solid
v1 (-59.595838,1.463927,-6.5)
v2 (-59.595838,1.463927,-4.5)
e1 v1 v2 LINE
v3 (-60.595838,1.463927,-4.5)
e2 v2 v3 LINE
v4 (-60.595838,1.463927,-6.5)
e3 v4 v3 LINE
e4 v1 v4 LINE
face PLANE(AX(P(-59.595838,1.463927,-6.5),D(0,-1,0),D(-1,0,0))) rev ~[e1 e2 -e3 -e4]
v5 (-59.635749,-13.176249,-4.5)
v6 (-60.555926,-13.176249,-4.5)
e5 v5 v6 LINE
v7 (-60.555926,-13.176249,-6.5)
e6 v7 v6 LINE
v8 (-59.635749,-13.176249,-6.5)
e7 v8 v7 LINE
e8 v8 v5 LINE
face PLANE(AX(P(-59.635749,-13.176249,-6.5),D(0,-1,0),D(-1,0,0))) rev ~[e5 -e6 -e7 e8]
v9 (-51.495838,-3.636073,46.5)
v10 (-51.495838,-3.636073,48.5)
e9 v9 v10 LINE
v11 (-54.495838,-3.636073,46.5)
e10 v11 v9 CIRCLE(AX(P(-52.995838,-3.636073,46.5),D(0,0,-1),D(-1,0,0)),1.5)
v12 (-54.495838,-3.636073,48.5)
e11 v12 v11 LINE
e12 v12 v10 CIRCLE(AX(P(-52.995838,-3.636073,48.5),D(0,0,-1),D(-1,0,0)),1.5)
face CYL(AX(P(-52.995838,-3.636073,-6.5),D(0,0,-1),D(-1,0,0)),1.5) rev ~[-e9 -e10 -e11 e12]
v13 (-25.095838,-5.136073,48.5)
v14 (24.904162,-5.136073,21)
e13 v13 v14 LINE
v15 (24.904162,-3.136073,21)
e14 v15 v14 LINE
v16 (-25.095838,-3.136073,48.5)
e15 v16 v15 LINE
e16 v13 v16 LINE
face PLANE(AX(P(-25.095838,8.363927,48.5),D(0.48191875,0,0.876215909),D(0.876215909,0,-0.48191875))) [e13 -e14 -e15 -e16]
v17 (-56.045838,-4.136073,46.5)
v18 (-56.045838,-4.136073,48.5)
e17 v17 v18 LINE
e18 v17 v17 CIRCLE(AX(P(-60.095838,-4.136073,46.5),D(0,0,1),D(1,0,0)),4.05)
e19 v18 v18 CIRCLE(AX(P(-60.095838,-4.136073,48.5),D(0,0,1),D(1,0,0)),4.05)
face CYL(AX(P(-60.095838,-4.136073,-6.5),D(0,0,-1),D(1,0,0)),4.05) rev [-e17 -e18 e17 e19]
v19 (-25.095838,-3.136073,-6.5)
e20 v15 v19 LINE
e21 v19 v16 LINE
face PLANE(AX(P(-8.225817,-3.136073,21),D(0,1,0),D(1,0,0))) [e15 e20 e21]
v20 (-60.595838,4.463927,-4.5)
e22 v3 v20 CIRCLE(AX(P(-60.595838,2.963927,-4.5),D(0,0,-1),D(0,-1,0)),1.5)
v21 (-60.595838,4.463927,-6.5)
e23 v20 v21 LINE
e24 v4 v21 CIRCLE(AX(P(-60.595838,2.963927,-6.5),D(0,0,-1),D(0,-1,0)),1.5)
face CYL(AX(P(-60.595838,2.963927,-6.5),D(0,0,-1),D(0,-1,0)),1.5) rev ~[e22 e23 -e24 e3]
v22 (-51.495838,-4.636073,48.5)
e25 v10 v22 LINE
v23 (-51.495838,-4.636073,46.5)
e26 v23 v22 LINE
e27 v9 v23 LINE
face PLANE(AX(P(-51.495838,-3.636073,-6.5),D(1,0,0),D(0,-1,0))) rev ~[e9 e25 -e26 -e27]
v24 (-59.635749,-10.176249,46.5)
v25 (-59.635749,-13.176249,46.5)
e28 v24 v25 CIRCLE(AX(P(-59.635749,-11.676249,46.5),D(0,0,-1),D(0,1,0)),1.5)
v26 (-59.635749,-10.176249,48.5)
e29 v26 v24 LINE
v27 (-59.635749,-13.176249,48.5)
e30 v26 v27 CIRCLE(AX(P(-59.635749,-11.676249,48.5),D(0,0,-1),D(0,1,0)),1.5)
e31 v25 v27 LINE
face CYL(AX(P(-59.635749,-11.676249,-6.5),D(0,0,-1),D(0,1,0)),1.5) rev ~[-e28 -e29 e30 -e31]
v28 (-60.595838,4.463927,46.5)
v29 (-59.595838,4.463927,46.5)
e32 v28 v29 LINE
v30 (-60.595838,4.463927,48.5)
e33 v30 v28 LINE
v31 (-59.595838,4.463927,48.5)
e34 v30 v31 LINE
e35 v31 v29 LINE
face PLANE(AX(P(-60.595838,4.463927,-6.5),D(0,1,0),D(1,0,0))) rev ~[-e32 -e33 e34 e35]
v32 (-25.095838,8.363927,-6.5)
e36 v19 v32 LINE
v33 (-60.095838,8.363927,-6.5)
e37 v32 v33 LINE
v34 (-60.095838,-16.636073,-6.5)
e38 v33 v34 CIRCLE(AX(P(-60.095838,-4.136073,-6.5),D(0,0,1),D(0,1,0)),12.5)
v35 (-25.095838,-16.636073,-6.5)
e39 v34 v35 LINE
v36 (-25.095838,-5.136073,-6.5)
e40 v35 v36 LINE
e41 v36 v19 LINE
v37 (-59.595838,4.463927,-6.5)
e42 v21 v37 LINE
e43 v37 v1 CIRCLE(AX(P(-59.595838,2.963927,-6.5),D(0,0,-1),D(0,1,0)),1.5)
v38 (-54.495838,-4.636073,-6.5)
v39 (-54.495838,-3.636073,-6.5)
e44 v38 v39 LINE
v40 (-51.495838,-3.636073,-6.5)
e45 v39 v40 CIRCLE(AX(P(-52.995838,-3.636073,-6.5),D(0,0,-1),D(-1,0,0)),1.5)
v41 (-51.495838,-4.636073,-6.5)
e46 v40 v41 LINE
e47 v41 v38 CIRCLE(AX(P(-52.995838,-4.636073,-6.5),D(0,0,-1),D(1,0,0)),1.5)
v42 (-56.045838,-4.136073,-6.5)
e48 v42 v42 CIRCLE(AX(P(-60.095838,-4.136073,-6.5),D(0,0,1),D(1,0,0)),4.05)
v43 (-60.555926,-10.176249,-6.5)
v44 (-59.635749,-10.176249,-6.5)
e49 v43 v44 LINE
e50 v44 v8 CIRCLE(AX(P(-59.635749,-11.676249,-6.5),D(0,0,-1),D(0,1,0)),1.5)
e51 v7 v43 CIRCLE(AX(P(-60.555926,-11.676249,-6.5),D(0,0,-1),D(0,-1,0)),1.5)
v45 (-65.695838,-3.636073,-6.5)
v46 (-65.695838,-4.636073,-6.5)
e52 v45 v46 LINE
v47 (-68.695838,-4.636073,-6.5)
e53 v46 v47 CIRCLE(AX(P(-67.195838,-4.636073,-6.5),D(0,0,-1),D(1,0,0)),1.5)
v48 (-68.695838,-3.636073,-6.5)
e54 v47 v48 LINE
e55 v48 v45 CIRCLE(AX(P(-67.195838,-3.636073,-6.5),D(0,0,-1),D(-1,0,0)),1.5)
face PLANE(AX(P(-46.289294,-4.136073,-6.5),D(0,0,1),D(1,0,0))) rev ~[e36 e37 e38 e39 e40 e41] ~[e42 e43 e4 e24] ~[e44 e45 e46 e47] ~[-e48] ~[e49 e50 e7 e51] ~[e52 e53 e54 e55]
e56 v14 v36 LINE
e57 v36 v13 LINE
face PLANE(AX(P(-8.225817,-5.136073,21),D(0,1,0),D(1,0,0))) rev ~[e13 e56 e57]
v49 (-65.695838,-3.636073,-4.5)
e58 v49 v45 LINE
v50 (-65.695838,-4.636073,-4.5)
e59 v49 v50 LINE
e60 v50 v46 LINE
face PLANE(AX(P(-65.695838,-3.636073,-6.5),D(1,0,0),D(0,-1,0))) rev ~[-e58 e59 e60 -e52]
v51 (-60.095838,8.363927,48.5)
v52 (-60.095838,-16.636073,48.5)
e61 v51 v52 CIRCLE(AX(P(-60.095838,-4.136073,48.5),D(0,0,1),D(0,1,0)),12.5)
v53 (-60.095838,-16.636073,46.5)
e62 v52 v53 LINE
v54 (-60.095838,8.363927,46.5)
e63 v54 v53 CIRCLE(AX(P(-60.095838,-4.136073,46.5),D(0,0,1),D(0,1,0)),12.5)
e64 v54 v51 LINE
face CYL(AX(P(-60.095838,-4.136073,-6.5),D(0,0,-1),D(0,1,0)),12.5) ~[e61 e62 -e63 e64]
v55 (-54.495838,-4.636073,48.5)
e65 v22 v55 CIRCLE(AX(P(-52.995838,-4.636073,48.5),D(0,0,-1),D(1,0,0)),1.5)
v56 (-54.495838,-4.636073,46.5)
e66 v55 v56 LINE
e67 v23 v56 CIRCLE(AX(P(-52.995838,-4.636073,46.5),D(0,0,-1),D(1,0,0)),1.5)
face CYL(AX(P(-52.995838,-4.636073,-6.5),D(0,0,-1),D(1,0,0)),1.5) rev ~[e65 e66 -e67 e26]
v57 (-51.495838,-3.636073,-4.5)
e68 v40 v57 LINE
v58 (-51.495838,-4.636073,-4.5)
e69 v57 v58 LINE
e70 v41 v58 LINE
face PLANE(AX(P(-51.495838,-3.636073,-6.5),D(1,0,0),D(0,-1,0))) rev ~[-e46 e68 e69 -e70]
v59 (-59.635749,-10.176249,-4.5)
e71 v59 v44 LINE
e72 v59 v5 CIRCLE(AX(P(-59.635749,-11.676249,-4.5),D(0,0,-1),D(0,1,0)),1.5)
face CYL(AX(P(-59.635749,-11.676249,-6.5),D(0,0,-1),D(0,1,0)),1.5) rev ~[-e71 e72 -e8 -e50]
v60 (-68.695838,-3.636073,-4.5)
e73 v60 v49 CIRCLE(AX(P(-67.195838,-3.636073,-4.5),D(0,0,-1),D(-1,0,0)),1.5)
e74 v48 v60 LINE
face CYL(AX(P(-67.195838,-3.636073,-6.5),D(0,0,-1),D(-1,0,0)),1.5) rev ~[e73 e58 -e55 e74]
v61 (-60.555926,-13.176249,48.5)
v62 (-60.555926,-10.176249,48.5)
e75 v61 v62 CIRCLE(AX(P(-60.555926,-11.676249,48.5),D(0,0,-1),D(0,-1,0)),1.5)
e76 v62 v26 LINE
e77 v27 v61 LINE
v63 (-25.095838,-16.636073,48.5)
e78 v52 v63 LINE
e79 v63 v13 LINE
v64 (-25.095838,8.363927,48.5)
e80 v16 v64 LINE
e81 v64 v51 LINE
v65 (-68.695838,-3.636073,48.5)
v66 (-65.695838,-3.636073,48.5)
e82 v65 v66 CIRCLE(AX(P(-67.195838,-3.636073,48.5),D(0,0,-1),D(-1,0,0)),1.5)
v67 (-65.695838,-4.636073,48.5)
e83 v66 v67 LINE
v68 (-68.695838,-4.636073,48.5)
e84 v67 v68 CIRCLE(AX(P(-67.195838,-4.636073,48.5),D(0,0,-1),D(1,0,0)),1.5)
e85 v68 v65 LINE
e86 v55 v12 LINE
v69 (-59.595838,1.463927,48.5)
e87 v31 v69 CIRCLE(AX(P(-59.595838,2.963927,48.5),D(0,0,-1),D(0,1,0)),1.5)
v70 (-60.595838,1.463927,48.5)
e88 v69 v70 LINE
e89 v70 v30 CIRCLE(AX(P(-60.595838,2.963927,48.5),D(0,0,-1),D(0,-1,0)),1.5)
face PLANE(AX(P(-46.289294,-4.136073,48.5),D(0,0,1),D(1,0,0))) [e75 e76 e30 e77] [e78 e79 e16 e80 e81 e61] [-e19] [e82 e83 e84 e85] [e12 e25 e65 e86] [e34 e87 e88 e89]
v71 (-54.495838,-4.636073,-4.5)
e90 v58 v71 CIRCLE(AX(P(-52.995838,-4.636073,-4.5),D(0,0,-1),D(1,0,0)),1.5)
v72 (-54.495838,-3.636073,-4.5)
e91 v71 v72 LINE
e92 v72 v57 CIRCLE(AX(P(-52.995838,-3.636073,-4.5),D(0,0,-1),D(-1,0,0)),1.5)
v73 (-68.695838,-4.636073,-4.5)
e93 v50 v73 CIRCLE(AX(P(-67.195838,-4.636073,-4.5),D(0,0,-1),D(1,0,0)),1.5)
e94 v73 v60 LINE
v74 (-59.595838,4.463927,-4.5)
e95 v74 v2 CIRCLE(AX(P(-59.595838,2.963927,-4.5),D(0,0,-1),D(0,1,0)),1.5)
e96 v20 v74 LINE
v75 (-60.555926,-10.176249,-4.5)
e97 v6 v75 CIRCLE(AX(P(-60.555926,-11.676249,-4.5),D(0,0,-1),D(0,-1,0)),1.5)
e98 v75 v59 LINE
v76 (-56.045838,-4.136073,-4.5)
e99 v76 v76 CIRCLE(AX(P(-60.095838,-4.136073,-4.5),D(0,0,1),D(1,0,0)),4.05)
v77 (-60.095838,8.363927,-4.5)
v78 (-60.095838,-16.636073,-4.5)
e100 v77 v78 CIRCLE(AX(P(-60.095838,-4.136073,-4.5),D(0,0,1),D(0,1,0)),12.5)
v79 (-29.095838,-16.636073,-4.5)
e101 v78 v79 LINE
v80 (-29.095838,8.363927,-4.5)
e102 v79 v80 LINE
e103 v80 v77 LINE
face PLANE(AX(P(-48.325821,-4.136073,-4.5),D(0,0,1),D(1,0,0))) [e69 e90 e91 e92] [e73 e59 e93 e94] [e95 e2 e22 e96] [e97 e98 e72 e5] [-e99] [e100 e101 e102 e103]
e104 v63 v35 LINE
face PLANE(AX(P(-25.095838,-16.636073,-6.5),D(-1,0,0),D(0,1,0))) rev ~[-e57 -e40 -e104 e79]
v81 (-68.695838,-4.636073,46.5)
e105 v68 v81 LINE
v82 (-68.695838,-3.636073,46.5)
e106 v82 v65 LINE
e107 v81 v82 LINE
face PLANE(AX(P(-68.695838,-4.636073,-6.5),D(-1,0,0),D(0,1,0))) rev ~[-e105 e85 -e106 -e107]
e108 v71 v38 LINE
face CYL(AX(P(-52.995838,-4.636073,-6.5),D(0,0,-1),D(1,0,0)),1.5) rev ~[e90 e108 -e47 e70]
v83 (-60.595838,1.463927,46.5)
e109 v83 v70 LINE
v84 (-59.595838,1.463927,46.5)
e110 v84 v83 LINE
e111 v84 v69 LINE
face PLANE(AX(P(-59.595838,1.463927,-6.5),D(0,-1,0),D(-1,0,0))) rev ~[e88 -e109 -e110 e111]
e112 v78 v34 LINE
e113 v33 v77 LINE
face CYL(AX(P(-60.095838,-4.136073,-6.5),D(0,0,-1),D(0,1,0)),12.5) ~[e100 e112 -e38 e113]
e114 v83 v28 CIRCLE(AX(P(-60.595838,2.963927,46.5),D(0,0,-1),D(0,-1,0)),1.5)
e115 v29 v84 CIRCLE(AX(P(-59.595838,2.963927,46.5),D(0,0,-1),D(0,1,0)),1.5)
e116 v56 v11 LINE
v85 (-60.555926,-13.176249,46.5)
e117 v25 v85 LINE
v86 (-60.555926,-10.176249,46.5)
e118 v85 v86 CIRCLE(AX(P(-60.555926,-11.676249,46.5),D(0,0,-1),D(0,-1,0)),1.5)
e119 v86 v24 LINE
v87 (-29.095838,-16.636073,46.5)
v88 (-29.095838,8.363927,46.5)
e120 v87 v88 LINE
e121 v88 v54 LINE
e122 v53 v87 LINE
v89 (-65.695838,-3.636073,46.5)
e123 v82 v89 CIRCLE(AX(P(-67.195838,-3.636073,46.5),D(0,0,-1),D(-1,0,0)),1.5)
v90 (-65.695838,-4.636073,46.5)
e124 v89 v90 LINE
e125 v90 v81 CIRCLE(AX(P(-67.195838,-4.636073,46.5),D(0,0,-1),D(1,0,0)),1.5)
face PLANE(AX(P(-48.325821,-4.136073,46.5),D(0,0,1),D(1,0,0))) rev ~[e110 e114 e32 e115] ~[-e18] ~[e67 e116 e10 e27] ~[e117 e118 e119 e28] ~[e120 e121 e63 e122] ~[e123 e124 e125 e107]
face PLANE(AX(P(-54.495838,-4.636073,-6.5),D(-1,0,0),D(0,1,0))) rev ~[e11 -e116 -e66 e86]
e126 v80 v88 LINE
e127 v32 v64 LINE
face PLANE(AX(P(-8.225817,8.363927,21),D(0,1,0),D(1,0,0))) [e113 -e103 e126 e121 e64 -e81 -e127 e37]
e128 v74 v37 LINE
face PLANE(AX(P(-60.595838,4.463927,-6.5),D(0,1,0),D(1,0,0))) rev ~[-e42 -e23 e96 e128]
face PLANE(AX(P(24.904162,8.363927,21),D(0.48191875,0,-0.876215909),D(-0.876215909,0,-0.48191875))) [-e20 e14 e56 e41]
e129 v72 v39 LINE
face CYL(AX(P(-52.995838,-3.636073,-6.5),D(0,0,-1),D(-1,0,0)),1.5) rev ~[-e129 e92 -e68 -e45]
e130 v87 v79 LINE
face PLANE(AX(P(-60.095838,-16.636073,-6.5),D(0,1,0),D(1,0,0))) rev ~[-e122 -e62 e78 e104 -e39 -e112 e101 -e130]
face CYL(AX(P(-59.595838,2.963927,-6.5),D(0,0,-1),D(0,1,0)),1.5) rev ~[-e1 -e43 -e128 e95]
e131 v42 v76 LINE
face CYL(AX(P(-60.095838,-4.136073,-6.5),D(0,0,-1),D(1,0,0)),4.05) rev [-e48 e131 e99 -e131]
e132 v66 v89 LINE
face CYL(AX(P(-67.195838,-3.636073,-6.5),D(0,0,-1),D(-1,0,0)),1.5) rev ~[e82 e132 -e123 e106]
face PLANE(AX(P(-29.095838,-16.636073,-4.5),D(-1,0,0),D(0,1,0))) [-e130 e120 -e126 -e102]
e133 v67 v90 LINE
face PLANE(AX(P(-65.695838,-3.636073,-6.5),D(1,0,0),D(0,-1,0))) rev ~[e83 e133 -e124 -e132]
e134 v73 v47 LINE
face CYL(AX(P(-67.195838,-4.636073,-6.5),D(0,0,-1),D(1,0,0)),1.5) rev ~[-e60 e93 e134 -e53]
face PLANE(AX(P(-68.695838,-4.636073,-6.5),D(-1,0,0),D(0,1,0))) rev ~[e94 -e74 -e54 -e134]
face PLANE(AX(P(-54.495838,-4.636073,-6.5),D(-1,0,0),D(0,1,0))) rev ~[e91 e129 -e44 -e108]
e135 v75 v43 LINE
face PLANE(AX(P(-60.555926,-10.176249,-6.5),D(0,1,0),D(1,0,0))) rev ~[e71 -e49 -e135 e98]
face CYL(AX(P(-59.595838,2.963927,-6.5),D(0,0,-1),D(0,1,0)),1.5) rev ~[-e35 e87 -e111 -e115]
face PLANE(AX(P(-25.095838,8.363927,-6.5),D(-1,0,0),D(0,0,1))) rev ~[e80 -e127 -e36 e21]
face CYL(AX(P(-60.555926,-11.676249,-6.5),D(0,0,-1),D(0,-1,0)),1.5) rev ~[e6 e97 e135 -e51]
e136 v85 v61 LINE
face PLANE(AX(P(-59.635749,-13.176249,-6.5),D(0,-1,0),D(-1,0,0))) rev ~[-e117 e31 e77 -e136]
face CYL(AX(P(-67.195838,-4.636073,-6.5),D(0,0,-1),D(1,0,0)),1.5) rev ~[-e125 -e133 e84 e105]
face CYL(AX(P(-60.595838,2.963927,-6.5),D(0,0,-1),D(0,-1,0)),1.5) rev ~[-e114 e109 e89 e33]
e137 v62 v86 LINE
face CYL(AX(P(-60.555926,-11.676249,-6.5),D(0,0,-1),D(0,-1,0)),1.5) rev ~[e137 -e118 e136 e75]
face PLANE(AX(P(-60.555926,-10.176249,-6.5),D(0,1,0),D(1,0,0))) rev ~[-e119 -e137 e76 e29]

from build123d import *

# Parameters (mm, degrees)
SKETCH1_W           = 62
SKETCH1_H           = 42
SKETCH1_W_2         = 41
SKETCH1_H_2         = 21
BOSS_EXTRUDE1_DEPTH = 42
SKETCH2_W           = 4
SKETCH2_H           = 25
BOSS_EXTRUDE2_DEPTH = 4.5
SKETCH2_2_W         = 4
SKETCH2_2_H         = 25
BOSS_EXTRUDE3_DEPTH = 45.55
SKETCH3_R           = 4.05
BOSS_EXTRUDE6_DEPTH = 2
BOSS_EXTRUDE7_START = -53
SKETCH3_8_R         = 4.05
BOSS_EXTRUDE7_DEPTH = 53
CUT_EXTRUDE1_START  = -51
SKETCH3_11_R        = 4.05
CUT_EXTRUDE1_DEPTH  = 51
SKETCH_1_W          = 8.5
SKETCH_1_H          = 5.5
CUT_EXTRUDE_1_DEPTH = 40
CUT_EXTRUDE_3_DEPTH = 42
EXTRUDE_1_DEPTH     = 13.5
CUT_EXTRUDE_4_DEPTH = 11.5


with BuildPart() as part:
    # Sketch1 → Boss-Extrude1 (new body)
    with BuildSketch(Plane.XY):
        with Locations((1.904162196, -4.136072895)):
            Rectangle(SKETCH1_W, SKETCH1_H)
        with Locations((1.904162196, -4.136072895)):
            Rectangle(SKETCH1_W_2, SKETCH1_H_2, mode=Mode.SUBTRACT)
    extrude(amount=BOSS_EXTRUDE1_DEPTH)

    # Sketch2 → Boss-Extrude2 (add)
    with BuildSketch(Plane.XY.offset(42)):
        with Locations((-27.095837804, -4.136072895)):
            Rectangle(SKETCH2_W, SKETCH2_H)
    extrude(amount=BOSS_EXTRUDE2_DEPTH)

    # Sketch2<2> → Boss-Extrude3 (add)
    with BuildSketch(Plane.XY.offset(42)):
        with Locations((-27.095837804, -4.136072895)):
            Rectangle(SKETCH2_2_W, SKETCH2_2_H)
    extrude(amount=-BOSS_EXTRUDE3_DEPTH)

    # Sketch3 → Boss-Extrude6 (add)
    with BuildSketch(Plane.XY.offset(46.5)):
        with BuildLine():
            Line((-25.095837804, -16.636072895), (-25.095837804, 8.363927105))
            Line((-25.095837804, 8.363927105), (-60.095837804, 8.363927105))
            ThreePointArc((-60.095837804, 8.363927105), (-72.595837804, -4.136072895), (-60.095837804, -16.636072895))
            Line((-60.095837804, -16.636072895), (-25.095837804, -16.636072895))
        make_face()
        with BuildLine():
            Line((-51.495837804, -3.636072895), (-51.495837804, -4.636072895))
            ThreePointArc((-51.495837804, -4.636072895), (-52.995837804, -6.136072895), (-54.495837804, -4.636072895))
            Line((-54.495837804, -4.636072895), (-54.495837804, -3.636072895))
            ThreePointArc((-54.495837804, -3.636072895), (-52.995837804, -2.136072895), (-51.495837804, -3.636072895))
        make_face(mode=Mode.SUBTRACT)
        with BuildLine():
            Line((-59.635749439, -13.176248856), (-60.555926168, -13.176248856))
            ThreePointArc((-60.555926168, -13.176248856), (-62.055926168, -11.676248856), (-60.555926168, -10.176248856))
            Line((-60.555926168, -10.176248856), (-59.635749439, -10.176248856))
            ThreePointArc((-59.635749439, -10.176248856), (-58.135749439, -11.676248856), (-59.635749439, -13.176248856))
        make_face(mode=Mode.SUBTRACT)
        with Locations((-60.095837804, -4.136072895)):
            Circle(SKETCH3_R, mode=Mode.SUBTRACT)
        with BuildLine():
            Line((-59.595837804, 1.463927105), (-60.595837804, 1.463927105))
            ThreePointArc((-60.595837804, 1.463927105), (-62.095837804, 2.963927105), (-60.595837804, 4.463927105))
            Line((-60.595837804, 4.463927105), (-59.595837804, 4.463927105))
            ThreePointArc((-59.595837804, 4.463927105), (-58.095837804, 2.963927105), (-59.595837804, 1.463927105))
        make_face(mode=Mode.SUBTRACT)
        with BuildLine():
            ThreePointArc((-68.695837804, -3.636072895), (-67.195837804, -2.136072895), (-65.695837804, -3.636072895))
            Line((-65.695837804, -3.636072895), (-65.695837804, -4.636072895))
            ThreePointArc((-65.695837804, -4.636072895), (-67.195837804, -6.136072895), (-68.695837804, -4.636072895))
            Line((-68.695837804, -4.636072895), (-68.695837804, -3.636072895))
        make_face(mode=Mode.SUBTRACT)
    extrude(amount=BOSS_EXTRUDE6_DEPTH)

    # Sketch3<8> → Boss-Extrude7 (add)
    with BuildSketch(Plane.XY.offset(46.5).offset(BOSS_EXTRUDE7_START)):
        with BuildLine():
            Line((-25.095837804, -16.636072895), (-25.095837804, 8.363927105))
            Line((-25.095837804, 8.363927105), (-60.095837804, 8.363927105))
            ThreePointArc((-60.095837804, 8.363927105), (-72.595837804, -4.136072895), (-60.095837804, -16.636072895))
            Line((-60.095837804, -16.636072895), (-25.095837804, -16.636072895))
        make_face()
        with BuildLine():
            Line((-51.495837804, -3.636072895), (-51.495837804, -4.636072895))
            ThreePointArc((-51.495837804, -4.636072895), (-52.995837804, -6.136072895), (-54.495837804, -4.636072895))
            Line((-54.495837804, -4.636072895), (-54.495837804, -3.636072895))
            ThreePointArc((-54.495837804, -3.636072895), (-52.995837804, -2.136072895), (-51.495837804, -3.636072895))
        make_face(mode=Mode.SUBTRACT)
        with BuildLine():
            Line((-59.635749439, -13.176248856), (-60.555926168, -13.176248856))
            ThreePointArc((-60.555926168, -13.176248856), (-62.055926168, -11.676248856), (-60.555926168, -10.176248856))
            Line((-60.555926168, -10.176248856), (-59.635749439, -10.176248856))
            ThreePointArc((-59.635749439, -10.176248856), (-58.135749439, -11.676248856), (-59.635749439, -13.176248856))
        make_face(mode=Mode.SUBTRACT)
        with Locations((-60.095837804, -4.136072895)):
            Circle(SKETCH3_8_R, mode=Mode.SUBTRACT)
        with BuildLine():
            Line((-59.595837804, 1.463927105), (-60.595837804, 1.463927105))
            ThreePointArc((-60.595837804, 1.463927105), (-62.095837804, 2.963927105), (-60.595837804, 4.463927105))
            Line((-60.595837804, 4.463927105), (-59.595837804, 4.463927105))
            ThreePointArc((-59.595837804, 4.463927105), (-58.095837804, 2.963927105), (-59.595837804, 1.463927105))
        make_face(mode=Mode.SUBTRACT)
        with BuildLine():
            ThreePointArc((-68.695837804, -3.636072895), (-67.195837804, -2.136072895), (-65.695837804, -3.636072895))
            Line((-65.695837804, -3.636072895), (-65.695837804, -4.636072895))
            ThreePointArc((-65.695837804, -4.636072895), (-67.195837804, -6.136072895), (-68.695837804, -4.636072895))
            Line((-68.695837804, -4.636072895), (-68.695837804, -3.636072895))
        make_face(mode=Mode.SUBTRACT)
    extrude(amount=BOSS_EXTRUDE7_DEPTH)

    # Sketch3<11> → Cut-Extrude1 (cut)
    with BuildSketch(Plane.XY.offset(46.5).offset(CUT_EXTRUDE1_START)):
        with BuildLine():
            Line((-29.095837804, -16.636072895), (-29.095837804, 8.363927105))
            Line((-29.095837804, 8.363927105), (-60.095837804, 8.363927105))
            ThreePointArc((-60.095837804, 8.363927105), (-72.595837804, -4.136072895), (-60.095837804, -16.636072895))
            Line((-60.095837804, -16.636072895), (-29.095837804, -16.636072895))
        make_face()
        with BuildLine():
            Line((-59.635749439, -13.176248856), (-60.555926168, -13.176248856))
            ThreePointArc((-60.555926168, -13.176248856), (-62.055926168, -11.676248856), (-60.555926168, -10.176248856))
            Line((-60.555926168, -10.176248856), (-59.635749439, -10.176248856))
            ThreePointArc((-59.635749439, -10.176248856), (-58.135749439, -11.676248856), (-59.635749439, -13.176248856))
        make_face(mode=Mode.SUBTRACT)
        with Locations((-60.095837804, -4.136072895)):
            Circle(SKETCH3_11_R, mode=Mode.SUBTRACT)
        with BuildLine():
            Line((-59.595837804, 1.463927105), (-60.595837804, 1.463927105))
            ThreePointArc((-60.595837804, 1.463927105), (-62.095837804, 2.963927105), (-60.595837804, 4.463927105))
            Line((-60.595837804, 4.463927105), (-59.595837804, 4.463927105))
            ThreePointArc((-59.595837804, 4.463927105), (-58.095837804, 2.963927105), (-59.595837804, 1.463927105))
        make_face(mode=Mode.SUBTRACT)
        with BuildLine():
            ThreePointArc((-54.495837804, -3.636072895), (-52.995837804, -2.136072895), (-51.495837804, -3.636072895))
            Line((-51.495837804, -3.636072895), (-51.495837804, -4.636072895))
            ThreePointArc((-51.495837804, -4.636072895), (-52.995837804, -6.136072895), (-54.495837804, -4.636072895))
            Line((-54.495837804, -4.636072895), (-54.495837804, -3.636072895))
        make_face(mode=Mode.SUBTRACT)
        with BuildLine():
            ThreePointArc((-68.695837804, -3.636072895), (-67.195837804, -2.136072895), (-65.695837804, -3.636072895))
            Line((-65.695837804, -3.636072895), (-65.695837804, -4.636072895))
            ThreePointArc((-65.695837804, -4.636072895), (-67.195837804, -6.136072895), (-68.695837804, -4.636072895))
            Line((-68.695837804, -4.636072895), (-68.695837804, -3.636072895))
        make_face(mode=Mode.SUBTRACT)
    extrude(amount=CUT_EXTRUDE1_DEPTH, mode=Mode.SUBTRACT)

    # 草圖1 → 除料-伸長1 (cut)
    with BuildSketch(Plane(origin=(0, 16.863927105, 0), x_dir=(1, 0, 0), z_dir=(0, 1, 0))):
        with Locations((8.454162196, -32.5)):
            Rectangle(SKETCH_1_W, SKETCH_1_H)
    extrude(amount=-CUT_EXTRUDE_1_DEPTH, mode=Mode.SUBTRACT)

    # 草圖3 → 除料-伸長3 (cut)
    with BuildSketch(Plane(origin=(0, 0, 0), x_dir=(-1, 0, 0), z_dir=(0, 0, -1))):
        Polygon((29.095837804, 8.363927105), (29.095837804, 16.863927105), (-32.904162196, 16.863927105), (-32.904162196, -25.136072895), (29.095837804, -25.136072895), (29.095837804, -16.636072895), (25.095837804, -16.636072895), (25.095837804, 8.363927105), align=None)
    extrude(amount=-CUT_EXTRUDE_3_DEPTH, mode=Mode.SUBTRACT)

    # 草圖5 → 填料-伸長1 (add)
    with BuildSketch(Plane(origin=(0, 8.363927105, 0), x_dir=(1, 0, 0), z_dir=(0, 1, 0))):
        Polygon((-25.095837804, 6.5), (-25.095837804, -48.5), (24.904162196, -21), align=None)
    extrude(amount=-EXTRUDE_1_DEPTH)

    # 草圖5<2> → 除料-伸長4 (cut)
    with BuildSketch(Plane(origin=(0, 8.363927105, 0), x_dir=(1, 0, 0), z_dir=(0, 1, 0))):
        Polygon((-25.095837804, 6.5), (-25.095837804, -48.5), (24.904162196, -21), align=None)
    extrude(amount=-CUT_EXTRUDE_4_DEPTH, mode=Mode.SUBTRACT)


solid = part.part
